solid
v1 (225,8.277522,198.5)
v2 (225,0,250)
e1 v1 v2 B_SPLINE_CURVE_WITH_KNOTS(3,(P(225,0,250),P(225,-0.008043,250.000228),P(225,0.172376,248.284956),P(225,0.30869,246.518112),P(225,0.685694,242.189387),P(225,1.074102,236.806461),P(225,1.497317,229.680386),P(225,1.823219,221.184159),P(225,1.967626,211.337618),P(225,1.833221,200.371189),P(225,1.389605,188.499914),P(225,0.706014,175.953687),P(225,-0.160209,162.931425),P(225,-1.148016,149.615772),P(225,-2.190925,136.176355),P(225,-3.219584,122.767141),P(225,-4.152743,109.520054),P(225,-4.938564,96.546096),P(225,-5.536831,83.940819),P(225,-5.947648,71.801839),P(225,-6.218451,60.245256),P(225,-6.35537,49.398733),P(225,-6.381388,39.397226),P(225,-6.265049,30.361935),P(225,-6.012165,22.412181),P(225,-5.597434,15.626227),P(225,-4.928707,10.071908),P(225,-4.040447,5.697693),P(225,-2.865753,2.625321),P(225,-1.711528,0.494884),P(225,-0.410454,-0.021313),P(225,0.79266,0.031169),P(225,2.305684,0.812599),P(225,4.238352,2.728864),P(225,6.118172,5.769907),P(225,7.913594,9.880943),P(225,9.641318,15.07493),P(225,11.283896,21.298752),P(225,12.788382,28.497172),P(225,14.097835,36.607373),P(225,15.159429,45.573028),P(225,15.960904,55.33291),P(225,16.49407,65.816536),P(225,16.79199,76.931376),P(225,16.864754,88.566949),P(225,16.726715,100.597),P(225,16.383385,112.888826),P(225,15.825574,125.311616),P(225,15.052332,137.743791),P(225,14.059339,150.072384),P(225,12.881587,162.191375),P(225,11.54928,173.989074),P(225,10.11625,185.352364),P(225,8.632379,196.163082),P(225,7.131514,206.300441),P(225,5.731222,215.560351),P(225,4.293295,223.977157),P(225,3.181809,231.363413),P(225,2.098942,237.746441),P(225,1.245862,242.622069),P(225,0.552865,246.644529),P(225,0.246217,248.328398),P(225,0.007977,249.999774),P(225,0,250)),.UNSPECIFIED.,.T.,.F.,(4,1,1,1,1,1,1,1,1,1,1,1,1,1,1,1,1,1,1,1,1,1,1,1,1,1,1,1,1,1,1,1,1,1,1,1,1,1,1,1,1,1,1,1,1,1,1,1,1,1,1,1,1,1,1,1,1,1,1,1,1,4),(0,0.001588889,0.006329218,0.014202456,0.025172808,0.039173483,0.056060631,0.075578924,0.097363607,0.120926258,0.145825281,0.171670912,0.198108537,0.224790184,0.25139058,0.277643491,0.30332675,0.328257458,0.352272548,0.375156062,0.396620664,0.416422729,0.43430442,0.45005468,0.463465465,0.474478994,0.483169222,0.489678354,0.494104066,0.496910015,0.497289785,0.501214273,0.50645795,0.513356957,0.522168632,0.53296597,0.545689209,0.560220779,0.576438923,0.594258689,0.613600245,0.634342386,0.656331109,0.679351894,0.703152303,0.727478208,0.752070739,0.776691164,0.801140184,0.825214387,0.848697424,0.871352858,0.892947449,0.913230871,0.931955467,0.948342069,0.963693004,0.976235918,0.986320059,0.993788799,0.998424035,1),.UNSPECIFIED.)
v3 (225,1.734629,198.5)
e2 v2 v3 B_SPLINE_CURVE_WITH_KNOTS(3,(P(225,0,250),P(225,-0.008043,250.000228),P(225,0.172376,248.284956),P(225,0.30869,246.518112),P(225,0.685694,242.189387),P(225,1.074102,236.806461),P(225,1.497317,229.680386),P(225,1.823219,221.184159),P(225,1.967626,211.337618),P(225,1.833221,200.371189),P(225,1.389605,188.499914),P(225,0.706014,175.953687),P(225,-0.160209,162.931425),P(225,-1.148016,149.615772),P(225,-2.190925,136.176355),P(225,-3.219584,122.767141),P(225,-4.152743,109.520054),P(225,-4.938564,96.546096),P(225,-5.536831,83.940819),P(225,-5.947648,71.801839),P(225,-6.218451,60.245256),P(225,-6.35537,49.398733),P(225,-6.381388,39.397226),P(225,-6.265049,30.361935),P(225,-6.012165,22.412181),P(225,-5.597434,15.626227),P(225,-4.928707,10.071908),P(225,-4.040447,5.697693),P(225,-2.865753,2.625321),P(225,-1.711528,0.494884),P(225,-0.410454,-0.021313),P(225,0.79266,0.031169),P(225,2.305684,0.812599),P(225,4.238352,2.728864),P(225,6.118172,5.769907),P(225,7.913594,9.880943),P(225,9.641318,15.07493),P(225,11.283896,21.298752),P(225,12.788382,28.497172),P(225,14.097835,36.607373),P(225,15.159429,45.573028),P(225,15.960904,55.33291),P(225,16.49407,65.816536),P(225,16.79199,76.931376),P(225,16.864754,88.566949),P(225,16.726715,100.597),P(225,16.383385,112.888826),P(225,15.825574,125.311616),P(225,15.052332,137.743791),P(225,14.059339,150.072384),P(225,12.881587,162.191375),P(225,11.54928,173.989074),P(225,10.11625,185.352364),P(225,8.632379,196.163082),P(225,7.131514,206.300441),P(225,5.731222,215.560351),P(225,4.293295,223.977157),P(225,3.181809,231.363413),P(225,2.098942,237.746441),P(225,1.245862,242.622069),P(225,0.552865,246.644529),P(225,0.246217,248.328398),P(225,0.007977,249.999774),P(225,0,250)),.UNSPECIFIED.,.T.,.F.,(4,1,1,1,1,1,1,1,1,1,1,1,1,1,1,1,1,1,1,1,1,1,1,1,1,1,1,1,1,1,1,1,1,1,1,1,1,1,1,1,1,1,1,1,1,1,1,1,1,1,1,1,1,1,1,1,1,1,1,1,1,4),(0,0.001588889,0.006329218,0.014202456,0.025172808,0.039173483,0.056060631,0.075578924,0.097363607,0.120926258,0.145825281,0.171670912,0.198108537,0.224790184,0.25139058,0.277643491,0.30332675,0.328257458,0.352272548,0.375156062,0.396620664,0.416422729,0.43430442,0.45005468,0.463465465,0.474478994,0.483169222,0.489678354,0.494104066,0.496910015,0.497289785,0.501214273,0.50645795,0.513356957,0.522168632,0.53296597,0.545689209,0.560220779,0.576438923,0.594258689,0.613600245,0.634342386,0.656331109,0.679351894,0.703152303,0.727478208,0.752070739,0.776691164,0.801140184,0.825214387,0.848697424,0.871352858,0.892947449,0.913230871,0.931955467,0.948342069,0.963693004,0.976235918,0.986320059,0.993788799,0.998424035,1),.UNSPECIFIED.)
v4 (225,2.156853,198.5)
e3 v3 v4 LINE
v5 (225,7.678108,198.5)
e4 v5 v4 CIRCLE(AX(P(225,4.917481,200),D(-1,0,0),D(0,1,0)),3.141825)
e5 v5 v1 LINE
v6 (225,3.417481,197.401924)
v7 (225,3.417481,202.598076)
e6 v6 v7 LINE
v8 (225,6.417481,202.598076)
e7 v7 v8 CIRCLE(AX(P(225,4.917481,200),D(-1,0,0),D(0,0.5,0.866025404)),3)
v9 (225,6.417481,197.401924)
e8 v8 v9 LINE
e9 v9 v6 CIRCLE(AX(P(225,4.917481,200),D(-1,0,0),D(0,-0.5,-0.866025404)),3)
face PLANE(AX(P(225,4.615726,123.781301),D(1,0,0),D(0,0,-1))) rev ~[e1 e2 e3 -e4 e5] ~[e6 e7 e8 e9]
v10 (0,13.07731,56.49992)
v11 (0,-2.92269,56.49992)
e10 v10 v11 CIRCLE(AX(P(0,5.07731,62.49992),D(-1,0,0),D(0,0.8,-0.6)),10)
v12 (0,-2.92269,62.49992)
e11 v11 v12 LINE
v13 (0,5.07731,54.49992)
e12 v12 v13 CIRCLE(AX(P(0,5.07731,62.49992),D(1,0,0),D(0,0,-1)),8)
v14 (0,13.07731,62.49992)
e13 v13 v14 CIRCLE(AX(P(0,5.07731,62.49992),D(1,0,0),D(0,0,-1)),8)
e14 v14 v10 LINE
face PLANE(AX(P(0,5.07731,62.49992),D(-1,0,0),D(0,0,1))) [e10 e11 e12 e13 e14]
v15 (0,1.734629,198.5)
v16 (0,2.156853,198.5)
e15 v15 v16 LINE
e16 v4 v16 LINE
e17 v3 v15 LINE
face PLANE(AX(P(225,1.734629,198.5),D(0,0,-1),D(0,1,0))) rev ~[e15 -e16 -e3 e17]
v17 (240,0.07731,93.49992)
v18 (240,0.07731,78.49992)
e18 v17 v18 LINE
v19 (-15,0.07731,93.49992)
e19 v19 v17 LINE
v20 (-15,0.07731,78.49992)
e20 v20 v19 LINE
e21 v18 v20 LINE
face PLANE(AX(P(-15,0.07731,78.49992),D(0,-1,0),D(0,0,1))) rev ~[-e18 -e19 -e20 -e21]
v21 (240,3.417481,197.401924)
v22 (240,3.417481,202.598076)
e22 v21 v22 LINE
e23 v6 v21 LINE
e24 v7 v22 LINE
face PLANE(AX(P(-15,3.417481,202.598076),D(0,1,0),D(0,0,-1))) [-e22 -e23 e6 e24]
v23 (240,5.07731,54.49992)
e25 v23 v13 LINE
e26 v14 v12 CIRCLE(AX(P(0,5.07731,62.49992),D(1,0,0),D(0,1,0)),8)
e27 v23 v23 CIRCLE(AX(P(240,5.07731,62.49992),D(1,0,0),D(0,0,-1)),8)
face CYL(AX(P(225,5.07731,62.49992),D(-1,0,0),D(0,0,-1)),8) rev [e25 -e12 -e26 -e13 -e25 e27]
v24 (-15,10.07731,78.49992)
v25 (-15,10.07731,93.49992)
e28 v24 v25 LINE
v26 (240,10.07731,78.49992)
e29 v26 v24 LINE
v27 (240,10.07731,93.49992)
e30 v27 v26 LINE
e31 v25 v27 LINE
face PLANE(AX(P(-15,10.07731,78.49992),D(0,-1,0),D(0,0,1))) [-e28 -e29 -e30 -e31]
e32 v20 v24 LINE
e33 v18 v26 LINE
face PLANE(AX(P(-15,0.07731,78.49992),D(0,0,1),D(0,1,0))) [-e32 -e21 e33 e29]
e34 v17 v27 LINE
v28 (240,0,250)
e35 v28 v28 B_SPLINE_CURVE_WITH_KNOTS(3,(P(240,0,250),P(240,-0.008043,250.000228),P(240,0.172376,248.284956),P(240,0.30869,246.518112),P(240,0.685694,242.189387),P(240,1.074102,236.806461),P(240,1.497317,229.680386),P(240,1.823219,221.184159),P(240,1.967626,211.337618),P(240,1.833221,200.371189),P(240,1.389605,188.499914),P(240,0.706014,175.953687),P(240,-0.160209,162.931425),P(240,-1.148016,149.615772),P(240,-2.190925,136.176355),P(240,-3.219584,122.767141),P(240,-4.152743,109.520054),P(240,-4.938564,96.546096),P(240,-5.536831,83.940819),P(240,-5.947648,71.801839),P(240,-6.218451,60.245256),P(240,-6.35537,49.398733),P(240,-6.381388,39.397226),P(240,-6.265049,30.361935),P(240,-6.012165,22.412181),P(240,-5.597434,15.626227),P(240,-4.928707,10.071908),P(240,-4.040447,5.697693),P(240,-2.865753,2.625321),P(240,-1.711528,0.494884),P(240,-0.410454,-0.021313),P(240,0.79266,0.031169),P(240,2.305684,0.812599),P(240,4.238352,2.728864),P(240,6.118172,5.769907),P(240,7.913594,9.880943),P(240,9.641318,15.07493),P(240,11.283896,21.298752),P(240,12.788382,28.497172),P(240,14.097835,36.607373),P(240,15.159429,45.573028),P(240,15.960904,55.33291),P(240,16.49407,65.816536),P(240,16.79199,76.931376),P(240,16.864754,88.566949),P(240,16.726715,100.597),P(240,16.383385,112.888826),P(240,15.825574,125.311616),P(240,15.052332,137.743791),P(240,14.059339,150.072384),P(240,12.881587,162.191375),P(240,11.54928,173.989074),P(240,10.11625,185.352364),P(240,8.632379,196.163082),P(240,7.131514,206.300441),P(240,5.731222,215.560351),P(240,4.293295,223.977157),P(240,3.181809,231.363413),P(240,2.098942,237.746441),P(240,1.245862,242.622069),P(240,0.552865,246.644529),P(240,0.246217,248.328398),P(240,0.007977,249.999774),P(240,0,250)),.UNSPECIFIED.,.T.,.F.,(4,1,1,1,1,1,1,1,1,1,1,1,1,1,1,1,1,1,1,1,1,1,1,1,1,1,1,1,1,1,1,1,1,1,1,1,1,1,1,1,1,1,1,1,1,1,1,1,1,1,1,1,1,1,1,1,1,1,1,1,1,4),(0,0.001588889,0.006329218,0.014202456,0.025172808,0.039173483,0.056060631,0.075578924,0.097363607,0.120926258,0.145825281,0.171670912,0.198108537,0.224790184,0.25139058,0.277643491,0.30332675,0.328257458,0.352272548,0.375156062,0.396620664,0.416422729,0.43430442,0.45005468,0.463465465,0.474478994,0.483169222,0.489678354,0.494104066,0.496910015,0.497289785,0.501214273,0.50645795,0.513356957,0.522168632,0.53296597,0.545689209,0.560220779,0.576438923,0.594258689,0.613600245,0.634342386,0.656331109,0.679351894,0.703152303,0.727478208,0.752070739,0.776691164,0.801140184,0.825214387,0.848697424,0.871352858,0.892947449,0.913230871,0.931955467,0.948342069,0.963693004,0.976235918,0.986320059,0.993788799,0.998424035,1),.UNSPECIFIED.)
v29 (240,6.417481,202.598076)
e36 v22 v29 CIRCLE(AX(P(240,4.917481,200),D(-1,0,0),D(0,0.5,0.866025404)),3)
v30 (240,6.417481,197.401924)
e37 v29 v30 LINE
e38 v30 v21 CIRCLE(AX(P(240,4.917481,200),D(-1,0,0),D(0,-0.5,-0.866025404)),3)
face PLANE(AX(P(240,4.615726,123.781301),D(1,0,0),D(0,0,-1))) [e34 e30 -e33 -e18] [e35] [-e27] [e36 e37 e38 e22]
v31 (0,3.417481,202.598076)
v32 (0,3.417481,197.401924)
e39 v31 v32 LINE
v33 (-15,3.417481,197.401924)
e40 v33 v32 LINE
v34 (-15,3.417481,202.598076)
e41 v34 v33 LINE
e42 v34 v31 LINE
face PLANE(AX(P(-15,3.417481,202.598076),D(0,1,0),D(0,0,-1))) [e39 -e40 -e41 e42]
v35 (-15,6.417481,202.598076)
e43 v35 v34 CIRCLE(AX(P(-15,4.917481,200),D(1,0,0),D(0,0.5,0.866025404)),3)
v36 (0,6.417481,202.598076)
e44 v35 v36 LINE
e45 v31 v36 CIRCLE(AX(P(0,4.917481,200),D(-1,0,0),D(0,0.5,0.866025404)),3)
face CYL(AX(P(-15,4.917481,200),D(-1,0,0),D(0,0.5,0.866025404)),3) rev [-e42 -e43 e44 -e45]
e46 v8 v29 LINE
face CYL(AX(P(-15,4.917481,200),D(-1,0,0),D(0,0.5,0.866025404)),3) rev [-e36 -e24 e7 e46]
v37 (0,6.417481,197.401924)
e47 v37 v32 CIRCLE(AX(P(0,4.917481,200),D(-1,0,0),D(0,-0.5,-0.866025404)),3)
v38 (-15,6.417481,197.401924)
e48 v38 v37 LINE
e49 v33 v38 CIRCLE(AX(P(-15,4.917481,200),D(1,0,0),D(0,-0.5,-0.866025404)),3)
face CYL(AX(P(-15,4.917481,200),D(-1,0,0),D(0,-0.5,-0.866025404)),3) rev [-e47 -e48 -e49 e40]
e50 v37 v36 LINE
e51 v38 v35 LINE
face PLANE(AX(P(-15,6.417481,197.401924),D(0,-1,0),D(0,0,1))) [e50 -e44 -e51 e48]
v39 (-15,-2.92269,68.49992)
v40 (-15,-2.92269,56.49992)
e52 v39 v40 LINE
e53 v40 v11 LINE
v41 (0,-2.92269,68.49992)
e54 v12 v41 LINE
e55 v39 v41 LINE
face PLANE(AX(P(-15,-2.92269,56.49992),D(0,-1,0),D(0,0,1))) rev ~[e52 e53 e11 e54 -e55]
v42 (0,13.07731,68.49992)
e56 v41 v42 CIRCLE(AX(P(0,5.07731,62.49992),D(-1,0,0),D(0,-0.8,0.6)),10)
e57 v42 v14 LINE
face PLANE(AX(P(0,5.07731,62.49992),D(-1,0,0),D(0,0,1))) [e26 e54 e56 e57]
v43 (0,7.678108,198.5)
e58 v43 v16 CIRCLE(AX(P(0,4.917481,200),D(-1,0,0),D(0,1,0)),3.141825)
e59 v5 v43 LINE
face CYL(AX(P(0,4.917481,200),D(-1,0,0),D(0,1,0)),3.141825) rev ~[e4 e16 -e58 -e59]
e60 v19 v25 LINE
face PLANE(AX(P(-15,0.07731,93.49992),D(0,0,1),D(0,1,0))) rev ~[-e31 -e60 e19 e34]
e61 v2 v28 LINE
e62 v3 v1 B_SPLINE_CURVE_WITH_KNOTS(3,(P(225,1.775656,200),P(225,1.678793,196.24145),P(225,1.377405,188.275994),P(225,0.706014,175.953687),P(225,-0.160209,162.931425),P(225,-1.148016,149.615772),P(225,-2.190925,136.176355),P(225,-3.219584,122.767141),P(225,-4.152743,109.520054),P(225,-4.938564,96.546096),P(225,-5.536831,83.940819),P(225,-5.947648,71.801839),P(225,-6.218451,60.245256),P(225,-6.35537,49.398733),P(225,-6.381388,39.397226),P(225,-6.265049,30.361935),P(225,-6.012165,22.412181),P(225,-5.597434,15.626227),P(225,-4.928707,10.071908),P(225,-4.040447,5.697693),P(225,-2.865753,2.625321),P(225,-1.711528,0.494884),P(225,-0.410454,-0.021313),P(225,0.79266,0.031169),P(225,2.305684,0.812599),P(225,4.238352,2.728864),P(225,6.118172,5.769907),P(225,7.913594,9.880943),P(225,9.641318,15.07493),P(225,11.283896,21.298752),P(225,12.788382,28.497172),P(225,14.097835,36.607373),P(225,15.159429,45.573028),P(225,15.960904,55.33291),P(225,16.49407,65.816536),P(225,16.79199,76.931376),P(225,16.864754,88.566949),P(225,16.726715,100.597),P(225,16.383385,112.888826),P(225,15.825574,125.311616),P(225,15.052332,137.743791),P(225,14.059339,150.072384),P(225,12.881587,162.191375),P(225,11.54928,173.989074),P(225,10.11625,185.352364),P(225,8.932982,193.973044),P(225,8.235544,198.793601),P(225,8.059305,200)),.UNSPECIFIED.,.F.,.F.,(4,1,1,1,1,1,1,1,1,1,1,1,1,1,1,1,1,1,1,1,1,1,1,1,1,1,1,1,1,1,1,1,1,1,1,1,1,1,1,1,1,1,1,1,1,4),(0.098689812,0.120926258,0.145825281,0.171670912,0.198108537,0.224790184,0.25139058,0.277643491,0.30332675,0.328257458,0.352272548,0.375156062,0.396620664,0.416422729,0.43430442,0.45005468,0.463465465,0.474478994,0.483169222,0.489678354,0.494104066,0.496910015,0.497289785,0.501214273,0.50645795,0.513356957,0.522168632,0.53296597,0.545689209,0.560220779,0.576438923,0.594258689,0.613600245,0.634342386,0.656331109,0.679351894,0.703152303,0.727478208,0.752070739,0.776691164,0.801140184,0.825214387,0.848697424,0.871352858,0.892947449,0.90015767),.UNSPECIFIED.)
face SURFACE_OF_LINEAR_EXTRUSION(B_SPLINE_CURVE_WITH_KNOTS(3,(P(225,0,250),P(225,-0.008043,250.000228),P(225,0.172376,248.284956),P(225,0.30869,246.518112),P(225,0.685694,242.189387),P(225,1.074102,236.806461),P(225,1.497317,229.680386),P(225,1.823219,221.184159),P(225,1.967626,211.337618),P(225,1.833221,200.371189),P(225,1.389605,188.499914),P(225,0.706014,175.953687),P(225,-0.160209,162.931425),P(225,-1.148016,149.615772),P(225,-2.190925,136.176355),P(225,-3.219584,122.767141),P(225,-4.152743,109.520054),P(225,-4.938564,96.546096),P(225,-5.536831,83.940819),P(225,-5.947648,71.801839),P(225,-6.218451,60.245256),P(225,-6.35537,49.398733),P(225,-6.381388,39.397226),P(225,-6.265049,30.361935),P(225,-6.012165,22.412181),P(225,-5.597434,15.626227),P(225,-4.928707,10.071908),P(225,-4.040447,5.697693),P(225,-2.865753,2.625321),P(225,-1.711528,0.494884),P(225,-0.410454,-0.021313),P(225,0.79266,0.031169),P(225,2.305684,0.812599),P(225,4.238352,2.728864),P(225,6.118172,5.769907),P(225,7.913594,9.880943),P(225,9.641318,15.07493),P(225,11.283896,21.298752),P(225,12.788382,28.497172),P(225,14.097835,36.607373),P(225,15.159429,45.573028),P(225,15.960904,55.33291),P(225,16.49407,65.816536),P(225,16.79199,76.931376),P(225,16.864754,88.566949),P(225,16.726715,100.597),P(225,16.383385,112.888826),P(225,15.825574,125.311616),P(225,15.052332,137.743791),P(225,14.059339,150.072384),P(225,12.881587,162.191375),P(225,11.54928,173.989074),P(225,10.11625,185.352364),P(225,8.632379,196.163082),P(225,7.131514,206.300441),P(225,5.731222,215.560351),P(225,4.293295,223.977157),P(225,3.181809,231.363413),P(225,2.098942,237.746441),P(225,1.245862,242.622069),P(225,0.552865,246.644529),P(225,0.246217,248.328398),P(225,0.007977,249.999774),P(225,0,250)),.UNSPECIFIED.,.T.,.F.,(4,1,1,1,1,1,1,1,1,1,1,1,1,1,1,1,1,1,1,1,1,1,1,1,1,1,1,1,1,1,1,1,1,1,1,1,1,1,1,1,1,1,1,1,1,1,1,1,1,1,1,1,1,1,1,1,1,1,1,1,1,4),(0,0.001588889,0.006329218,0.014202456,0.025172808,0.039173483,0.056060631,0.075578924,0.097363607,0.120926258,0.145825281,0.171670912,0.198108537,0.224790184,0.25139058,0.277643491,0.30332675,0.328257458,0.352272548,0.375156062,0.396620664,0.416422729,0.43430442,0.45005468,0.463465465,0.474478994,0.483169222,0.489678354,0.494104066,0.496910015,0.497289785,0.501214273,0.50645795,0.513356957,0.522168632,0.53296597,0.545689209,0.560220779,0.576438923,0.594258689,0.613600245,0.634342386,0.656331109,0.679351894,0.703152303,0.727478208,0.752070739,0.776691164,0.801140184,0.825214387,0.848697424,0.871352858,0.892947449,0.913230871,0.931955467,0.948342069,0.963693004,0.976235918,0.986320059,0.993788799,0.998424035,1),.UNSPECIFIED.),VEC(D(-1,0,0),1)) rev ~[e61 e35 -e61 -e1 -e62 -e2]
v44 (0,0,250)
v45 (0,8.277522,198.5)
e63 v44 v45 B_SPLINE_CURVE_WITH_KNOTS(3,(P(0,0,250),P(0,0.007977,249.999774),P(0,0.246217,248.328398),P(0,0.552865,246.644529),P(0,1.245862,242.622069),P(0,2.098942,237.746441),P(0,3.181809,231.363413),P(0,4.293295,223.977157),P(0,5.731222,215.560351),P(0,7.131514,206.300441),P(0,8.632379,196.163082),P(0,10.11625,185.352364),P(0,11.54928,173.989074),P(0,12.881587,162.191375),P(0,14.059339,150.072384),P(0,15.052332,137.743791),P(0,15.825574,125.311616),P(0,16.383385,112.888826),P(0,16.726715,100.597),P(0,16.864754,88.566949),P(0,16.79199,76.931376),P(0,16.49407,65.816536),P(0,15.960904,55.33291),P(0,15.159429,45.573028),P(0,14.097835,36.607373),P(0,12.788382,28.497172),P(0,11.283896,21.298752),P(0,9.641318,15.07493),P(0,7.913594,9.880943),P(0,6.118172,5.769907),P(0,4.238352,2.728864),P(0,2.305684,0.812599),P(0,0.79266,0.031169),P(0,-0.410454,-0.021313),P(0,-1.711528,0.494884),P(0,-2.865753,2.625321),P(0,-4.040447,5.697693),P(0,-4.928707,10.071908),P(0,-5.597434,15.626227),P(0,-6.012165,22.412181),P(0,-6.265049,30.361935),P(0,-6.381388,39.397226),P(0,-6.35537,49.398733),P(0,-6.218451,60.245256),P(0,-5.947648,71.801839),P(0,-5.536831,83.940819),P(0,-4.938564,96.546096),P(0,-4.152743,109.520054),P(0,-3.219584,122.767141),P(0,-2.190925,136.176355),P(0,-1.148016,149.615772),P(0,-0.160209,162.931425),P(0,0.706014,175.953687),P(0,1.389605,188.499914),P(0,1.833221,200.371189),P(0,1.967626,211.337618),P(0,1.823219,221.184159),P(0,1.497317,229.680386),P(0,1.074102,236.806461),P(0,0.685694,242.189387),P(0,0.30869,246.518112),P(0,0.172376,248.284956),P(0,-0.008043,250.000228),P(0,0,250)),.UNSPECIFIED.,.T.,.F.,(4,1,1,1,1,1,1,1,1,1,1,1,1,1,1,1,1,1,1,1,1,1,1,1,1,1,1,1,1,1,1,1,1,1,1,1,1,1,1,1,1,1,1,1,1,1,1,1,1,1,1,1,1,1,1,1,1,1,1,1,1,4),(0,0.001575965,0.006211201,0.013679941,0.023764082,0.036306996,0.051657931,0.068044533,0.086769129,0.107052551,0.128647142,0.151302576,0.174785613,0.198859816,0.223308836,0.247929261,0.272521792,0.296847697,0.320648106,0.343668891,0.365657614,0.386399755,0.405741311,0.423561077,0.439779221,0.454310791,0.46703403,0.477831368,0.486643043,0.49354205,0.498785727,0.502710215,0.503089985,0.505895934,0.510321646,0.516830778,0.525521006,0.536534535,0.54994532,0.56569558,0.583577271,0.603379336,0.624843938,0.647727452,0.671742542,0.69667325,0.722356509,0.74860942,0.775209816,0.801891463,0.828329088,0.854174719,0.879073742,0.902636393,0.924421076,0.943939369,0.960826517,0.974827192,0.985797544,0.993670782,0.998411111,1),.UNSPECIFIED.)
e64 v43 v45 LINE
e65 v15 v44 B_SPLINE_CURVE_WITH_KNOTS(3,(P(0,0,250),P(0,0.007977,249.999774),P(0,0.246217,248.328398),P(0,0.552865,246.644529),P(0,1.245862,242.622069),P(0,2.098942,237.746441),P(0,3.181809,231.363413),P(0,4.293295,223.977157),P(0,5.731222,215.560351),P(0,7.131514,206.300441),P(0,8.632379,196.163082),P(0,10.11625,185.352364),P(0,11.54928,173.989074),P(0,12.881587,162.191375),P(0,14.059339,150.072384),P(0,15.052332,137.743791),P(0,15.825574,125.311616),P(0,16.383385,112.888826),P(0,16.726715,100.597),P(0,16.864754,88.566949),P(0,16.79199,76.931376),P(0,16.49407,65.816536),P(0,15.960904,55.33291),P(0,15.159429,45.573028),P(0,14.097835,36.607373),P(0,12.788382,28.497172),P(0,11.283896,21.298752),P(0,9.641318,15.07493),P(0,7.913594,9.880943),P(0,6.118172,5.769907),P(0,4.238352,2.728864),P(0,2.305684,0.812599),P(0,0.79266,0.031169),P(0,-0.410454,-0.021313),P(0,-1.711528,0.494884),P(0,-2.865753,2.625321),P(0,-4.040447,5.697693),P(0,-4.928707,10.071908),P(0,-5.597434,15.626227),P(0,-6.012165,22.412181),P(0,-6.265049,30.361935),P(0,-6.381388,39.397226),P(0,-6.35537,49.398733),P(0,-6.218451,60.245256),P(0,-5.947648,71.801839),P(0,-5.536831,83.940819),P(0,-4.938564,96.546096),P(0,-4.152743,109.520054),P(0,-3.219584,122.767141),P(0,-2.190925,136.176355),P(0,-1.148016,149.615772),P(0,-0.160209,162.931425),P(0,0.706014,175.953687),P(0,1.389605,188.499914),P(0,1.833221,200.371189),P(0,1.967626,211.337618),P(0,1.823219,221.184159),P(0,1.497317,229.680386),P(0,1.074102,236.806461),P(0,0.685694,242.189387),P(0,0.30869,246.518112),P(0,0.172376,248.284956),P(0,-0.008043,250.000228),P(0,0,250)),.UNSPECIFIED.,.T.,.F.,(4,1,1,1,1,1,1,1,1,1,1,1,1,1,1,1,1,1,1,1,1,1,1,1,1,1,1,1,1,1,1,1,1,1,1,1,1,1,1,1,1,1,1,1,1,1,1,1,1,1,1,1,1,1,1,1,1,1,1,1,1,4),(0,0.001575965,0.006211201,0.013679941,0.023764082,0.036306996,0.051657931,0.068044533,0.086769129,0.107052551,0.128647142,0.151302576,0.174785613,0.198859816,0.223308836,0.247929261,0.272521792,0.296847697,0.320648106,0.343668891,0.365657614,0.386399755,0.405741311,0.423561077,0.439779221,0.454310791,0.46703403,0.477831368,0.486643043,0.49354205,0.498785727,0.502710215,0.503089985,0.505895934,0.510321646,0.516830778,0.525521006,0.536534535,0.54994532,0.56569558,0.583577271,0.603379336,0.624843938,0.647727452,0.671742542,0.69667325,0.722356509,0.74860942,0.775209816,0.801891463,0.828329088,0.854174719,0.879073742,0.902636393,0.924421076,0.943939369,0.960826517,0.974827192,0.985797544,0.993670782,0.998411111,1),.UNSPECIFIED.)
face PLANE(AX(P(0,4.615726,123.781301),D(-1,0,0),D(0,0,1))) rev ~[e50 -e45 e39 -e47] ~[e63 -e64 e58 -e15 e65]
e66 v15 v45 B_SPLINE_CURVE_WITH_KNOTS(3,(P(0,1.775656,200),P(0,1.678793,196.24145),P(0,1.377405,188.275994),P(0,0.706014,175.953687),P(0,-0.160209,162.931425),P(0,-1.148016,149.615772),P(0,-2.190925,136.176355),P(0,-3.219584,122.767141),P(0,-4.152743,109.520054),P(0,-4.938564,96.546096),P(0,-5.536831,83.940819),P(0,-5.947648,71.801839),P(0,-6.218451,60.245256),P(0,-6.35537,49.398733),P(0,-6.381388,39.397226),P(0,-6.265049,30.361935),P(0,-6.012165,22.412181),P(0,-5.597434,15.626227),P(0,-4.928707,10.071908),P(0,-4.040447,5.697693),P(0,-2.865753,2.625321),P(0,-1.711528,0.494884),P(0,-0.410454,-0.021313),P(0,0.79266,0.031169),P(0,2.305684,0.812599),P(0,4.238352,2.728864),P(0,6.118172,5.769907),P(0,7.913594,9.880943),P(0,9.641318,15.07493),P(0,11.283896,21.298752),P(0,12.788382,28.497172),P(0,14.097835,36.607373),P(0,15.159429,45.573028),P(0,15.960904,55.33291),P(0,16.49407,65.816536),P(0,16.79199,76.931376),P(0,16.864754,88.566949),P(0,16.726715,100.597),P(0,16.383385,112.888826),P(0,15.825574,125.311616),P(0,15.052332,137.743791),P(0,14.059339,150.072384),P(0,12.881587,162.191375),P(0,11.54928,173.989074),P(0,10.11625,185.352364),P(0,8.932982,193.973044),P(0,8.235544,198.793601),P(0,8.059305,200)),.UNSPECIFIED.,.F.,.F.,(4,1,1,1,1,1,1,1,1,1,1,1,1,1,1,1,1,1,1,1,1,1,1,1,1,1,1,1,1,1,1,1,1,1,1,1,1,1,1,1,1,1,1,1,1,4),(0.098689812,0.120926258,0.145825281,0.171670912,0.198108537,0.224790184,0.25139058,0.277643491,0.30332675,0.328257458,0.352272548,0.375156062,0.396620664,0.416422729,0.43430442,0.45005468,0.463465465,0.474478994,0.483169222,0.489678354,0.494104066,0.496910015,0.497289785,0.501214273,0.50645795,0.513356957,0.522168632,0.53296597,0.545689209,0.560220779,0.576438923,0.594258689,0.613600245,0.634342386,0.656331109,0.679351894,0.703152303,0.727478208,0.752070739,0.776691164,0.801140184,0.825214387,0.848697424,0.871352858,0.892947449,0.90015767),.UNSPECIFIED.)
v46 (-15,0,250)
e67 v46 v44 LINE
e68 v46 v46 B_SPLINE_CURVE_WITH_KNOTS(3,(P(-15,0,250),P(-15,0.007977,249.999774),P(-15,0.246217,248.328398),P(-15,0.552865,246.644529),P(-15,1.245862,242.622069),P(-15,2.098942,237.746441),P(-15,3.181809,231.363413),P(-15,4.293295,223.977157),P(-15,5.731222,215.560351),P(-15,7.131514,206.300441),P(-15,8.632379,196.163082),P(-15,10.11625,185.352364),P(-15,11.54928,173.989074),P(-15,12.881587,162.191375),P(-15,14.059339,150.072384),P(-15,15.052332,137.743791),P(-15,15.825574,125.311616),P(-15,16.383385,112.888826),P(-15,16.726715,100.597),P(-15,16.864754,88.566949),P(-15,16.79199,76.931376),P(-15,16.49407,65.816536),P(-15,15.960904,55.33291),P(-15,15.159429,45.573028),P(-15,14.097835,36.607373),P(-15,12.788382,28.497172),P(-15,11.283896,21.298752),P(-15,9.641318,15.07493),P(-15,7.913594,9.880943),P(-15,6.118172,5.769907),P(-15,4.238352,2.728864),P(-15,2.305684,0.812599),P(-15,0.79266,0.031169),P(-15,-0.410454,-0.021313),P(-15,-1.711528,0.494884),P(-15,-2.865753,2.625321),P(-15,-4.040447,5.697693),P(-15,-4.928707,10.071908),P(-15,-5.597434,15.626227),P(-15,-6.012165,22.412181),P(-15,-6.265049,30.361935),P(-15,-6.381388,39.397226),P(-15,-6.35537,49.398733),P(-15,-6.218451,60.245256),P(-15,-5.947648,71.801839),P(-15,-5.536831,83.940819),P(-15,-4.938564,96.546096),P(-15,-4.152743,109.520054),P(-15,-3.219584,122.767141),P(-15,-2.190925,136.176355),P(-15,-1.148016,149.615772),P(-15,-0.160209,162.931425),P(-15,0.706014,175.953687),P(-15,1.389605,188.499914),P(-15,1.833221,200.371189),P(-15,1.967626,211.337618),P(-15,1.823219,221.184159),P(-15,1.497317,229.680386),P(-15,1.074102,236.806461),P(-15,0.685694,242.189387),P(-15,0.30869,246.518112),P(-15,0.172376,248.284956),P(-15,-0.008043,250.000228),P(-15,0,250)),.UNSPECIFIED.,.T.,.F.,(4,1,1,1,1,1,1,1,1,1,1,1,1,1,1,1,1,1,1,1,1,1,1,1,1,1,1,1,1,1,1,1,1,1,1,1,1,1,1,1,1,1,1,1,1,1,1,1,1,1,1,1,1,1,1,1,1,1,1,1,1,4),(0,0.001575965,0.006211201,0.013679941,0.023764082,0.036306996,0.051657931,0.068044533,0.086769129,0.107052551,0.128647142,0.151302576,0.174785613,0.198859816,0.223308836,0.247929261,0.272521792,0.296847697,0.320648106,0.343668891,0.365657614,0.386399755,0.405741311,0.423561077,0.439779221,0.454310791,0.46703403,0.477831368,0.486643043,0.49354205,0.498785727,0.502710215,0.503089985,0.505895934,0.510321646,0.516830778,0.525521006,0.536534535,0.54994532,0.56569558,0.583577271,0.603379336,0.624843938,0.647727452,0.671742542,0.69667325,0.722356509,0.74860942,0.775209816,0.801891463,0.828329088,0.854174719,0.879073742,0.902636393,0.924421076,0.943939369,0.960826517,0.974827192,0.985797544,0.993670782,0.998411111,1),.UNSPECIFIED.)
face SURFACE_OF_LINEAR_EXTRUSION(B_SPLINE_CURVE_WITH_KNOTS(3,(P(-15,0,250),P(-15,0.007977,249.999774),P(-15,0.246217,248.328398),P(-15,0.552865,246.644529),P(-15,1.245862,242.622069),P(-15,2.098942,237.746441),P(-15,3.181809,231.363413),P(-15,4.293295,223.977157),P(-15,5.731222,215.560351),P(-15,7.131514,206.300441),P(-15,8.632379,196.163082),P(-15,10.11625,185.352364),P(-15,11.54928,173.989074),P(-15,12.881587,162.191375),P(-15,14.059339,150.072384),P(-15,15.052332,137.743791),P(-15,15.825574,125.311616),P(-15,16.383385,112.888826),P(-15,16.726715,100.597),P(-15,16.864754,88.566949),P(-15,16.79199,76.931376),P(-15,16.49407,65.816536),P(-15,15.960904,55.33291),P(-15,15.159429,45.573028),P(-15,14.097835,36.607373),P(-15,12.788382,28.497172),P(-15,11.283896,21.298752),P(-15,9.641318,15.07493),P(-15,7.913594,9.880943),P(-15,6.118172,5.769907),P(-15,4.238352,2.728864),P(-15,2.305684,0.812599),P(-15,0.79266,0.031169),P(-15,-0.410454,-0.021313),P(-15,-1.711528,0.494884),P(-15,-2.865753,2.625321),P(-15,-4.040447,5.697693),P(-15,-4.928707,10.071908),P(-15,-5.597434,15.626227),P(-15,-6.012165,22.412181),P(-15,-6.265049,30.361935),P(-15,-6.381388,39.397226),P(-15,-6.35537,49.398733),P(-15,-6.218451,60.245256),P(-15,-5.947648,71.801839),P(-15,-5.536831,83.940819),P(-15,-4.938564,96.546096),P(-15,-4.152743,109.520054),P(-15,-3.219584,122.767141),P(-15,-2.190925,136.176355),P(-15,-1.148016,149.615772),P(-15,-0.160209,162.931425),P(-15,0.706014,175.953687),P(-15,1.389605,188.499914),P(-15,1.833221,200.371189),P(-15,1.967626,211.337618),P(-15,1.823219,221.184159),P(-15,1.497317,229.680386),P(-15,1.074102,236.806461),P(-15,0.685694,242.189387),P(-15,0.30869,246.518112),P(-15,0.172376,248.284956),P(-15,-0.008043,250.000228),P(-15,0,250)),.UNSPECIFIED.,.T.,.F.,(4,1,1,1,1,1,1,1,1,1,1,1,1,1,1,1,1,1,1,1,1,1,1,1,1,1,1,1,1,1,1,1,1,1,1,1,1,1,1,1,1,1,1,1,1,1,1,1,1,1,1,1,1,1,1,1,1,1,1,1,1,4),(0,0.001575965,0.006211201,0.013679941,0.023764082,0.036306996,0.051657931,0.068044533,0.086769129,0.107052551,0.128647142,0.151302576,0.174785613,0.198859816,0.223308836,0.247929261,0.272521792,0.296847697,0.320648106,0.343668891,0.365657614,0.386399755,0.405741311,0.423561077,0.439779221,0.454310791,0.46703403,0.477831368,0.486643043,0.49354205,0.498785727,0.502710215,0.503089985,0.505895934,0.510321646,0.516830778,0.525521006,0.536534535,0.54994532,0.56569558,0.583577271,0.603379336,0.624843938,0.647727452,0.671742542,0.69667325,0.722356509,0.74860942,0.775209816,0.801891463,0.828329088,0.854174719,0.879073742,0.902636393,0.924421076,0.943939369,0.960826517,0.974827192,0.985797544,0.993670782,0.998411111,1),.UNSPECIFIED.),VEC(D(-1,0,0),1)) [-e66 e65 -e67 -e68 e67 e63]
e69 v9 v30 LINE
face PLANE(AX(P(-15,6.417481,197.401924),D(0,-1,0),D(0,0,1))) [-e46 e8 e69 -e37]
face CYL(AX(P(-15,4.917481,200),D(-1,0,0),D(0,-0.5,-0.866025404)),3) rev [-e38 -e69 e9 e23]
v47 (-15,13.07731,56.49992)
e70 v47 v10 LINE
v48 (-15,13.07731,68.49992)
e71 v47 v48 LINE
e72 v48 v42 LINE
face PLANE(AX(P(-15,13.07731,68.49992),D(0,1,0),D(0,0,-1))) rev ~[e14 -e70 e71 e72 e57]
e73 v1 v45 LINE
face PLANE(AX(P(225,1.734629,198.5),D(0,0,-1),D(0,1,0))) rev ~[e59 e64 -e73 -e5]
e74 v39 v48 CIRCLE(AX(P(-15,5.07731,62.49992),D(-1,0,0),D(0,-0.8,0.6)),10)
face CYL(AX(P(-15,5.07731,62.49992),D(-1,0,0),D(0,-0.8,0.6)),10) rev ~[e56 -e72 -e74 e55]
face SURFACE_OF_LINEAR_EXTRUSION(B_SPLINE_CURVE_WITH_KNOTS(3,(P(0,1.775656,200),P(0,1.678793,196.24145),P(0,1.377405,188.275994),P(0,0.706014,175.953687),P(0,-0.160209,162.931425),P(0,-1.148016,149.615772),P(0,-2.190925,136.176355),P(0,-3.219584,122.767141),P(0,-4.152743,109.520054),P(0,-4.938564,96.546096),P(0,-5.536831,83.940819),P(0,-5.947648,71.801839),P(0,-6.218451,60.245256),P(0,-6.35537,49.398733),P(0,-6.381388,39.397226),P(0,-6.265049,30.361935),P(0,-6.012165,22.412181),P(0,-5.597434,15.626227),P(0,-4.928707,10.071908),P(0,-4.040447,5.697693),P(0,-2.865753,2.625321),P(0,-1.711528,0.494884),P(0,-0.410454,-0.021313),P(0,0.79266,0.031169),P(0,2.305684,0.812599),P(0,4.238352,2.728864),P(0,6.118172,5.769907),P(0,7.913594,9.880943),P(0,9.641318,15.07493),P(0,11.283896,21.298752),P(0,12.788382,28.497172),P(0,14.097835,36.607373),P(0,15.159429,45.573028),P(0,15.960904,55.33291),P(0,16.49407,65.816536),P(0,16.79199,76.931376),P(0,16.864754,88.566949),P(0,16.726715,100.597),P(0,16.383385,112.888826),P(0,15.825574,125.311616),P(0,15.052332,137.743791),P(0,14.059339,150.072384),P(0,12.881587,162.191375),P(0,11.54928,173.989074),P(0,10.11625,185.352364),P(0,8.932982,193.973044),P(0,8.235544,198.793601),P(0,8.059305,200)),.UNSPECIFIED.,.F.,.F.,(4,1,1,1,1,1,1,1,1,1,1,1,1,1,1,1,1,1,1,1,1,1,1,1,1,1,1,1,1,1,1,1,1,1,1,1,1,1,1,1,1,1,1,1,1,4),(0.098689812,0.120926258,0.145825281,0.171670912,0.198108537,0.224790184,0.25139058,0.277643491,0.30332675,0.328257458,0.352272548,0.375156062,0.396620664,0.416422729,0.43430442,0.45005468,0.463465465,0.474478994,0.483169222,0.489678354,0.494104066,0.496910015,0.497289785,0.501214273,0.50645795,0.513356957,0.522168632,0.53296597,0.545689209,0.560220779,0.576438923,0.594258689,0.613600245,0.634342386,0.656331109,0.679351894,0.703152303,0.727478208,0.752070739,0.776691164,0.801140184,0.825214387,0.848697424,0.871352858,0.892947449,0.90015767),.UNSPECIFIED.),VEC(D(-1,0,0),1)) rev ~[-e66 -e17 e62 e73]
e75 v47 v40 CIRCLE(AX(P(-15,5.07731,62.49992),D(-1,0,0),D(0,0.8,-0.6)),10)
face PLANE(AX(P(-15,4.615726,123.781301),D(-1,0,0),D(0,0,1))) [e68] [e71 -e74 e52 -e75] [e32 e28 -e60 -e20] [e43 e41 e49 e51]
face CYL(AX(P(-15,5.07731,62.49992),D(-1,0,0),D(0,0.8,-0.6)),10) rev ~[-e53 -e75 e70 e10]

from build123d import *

# Parameters (mm, degrees)
SCHIZZO1_R               = 8
SCHIZZO1_W               = 15
SCHIZZO1_H               = 10
CORPOFOAM_DEPTH          = 225
SCHIZZO2_W               = 5
SCHIZZO2_H               = 6.542892791
SMUSSOPOSTERIORE_DEPTH   = 302.510060719
SCHIZZO3_R               = 8
SCHIZZO3_W               = 15
SCHIZZO3_H               = 10
LATODESTRO_DEPTH         = 15
LATOSINISTRO_START       = 15
SCHIZZO4_R               = 8
SCHIZZO4_W               = 15
SCHIZZO4_H               = 10
LATOSINISTRO_DEPTH       = 15
FOROPERNOALETTONE_DEPTH  = 358.502890584
FOROFOAMLONGHERONE_START = -255
FOROFOAMLONGHERONE_DEPTH = 15


with BuildPart() as part:
    # Schizzo1 → CorpoFoam (new body)
    with BuildSketch(Plane(origin=(0, 0, 0), x_dir=(0, 0, -1), z_dir=(1, 0, 0))):
        with BuildLine():
            ThreePointArc((-200, 8.059305289), (-196.8581753, 4.91748059), (-200, 1.77565589))
            add(Edge.make_bspline(
                [(-200, 1.77565589), (-196.241450344, 1.678792644), (-188.275993902, 1.377404844), (-175.953687417, 0.706014078), (-162.931424918, -0.160208642), (-149.615771744, -1.148016327), (-136.176354995, -2.19092491), (-122.767140548, -3.219583979), (-109.520053587, -4.152743127), (-96.546095975, -4.938564365), (-83.940819302, -5.536830703), (-71.801839291, -5.947648205), (-60.245256003, -6.218450939), (-49.398732891, -6.355369756), (-39.397226194, -6.381387963), (-30.361934842, -6.26504923), (-22.412181103, -6.012164917), (-15.626227231, -5.597433901), (-10.071907511, -4.928706579), (-5.697692612, -4.040446981), (-2.625320639, -2.865752984), (-0.494884225, -1.71152847), (0.021312549, -0.410454231), (-0.0311692, 0.792659827), (-0.812599242, 2.305684337), (-2.728863517, 4.238352424), (-5.769907241, 6.118172121), (-9.880942804, 7.913594202), (-15.074930468, 9.641318178), (-21.298752222, 11.283896488), (-28.49717212, 12.788381759), (-36.607373406, 14.097834908), (-45.57302844, 15.159429017), (-55.332910074, 15.960903998), (-65.816536498, 16.494069738), (-76.93137626, 16.791989705), (-88.566949028, 16.864754131), (-100.596999886, 16.726715291), (-112.888825982, 16.383385064), (-125.311615819, 15.825573667), (-137.743791097, 15.05233187), (-150.072384382, 14.059339074), (-162.191375056, 12.881586986), (-173.989074322, 11.549280346), (-185.352364446, 10.116249729), (-193.973044007, 8.932981988), (-198.793601378, 8.235543811), (-200, 8.059305289)],
                knots=[0.098689812, 0.098689812, 0.098689812, 0.098689812, 0.120926258, 0.145825281, 0.171670912, 0.198108537, 0.224790184, 0.25139058, 0.277643491, 0.30332675, 0.328257458, 0.352272548, 0.375156062, 0.396620664, 0.416422729, 0.43430442, 0.45005468, 0.463465465, 0.474478994, 0.483169222, 0.489678354, 0.494104066, 0.496910015, 0.497289785, 0.501214273, 0.50645795, 0.513356957, 0.522168632, 0.53296597, 0.545689209, 0.560220779, 0.576438923, 0.594258689, 0.613600245, 0.634342386, 0.656331109, 0.679351894, 0.703152303, 0.727478208, 0.752070739, 0.776691164, 0.801140184, 0.825214387, 0.848697424, 0.871352858, 0.892947449, 0.90015767, 0.90015767, 0.90015767, 0.90015767], degree=3))
        make_face()
        with Locations((-62.499919709, 5.077309939)):
            Circle(SCHIZZO1_R, mode=Mode.SUBTRACT)
        with Locations((-85.999919709, 5.077309939)):
            Rectangle(SCHIZZO1_W, SCHIZZO1_H, mode=Mode.SUBTRACT)
    extrude(amount=CORPOFOAM_DEPTH)

    # Schizzo2 → SmussoPosteriore (cut, through all)
    with BuildSketch(Plane(origin=(225, 0, 0), x_dir=(0, 0, -1), z_dir=(1, 0, 0))):
        with Locations((-201, 5.006075261)):
            Rectangle(SCHIZZO2_W, SCHIZZO2_H)
    extrude(amount=-SMUSSOPOSTERIORE_DEPTH, mode=Mode.SUBTRACT)

    # Schizzo3 → LatoDestro (add)
    with BuildSketch(Plane(origin=(225, 0, 0), x_dir=(0, 0, -1), z_dir=(1, 0, 0))):
        with BuildLine():
            add(Edge.make_bspline(
                [(-250, 0), (-250.000228294, -0.008042796), (-248.284955516, 0.172375658), (-246.518112419, 0.308690015), (-242.189387343, 0.685693594), (-236.806461263, 1.074101529), (-229.680385952, 1.49731724), (-221.184158698, 1.823218603), (-211.337618208, 1.967626101), (-200.371188527, 1.833221056), (-188.499913622, 1.38960529), (-175.953687417, 0.706014078), (-162.931424918, -0.160208642), (-149.615771744, -1.148016327), (-136.176354995, -2.19092491), (-122.767140548, -3.219583979), (-109.520053587, -4.152743127), (-96.546095975, -4.938564365), (-83.940819302, -5.536830703), (-71.801839291, -5.947648205), (-60.245256003, -6.218450939), (-49.398732891, -6.355369756), (-39.397226194, -6.381387963), (-30.361934842, -6.26504923), (-22.412181103, -6.012164917), (-15.626227231, -5.597433901), (-10.071907511, -4.928706579), (-5.697692612, -4.040446981), (-2.625320639, -2.865752984), (-0.494884225, -1.71152847), (0.021312549, -0.410454231), (-0.0311692, 0.792659827), (-0.812599242, 2.305684337), (-2.728863517, 4.238352424), (-5.769907241, 6.118172121), (-9.880942804, 7.913594202), (-15.074930468, 9.641318178), (-21.298752222, 11.283896488), (-28.49717212, 12.788381759), (-36.607373406, 14.097834908), (-45.57302844, 15.159429017), (-55.332910074, 15.960903998), (-65.816536498, 16.494069738), (-76.93137626, 16.791989705), (-88.566949028, 16.864754131), (-100.596999886, 16.726715291), (-112.888825982, 16.383385064), (-125.311615819, 15.825573667), (-137.743791097, 15.05233187), (-150.072384382, 14.059339074), (-162.191375056, 12.881586986), (-173.989074322, 11.549280346), (-185.352364446, 10.116249729), (-196.163081698, 8.632379125), (-206.300441402, 7.131513884), (-215.560350587, 5.731221768), (-223.977157043, 4.293295127), (-231.363413336, 3.181808874), (-237.746440904, 2.098942417), (-242.622069366, 1.245861917), (-246.644529332, 0.552864946), (-248.32839844, 0.246216765), (-249.999773563, 0.007977377), (-250, 0)],
                knots=[0, 0, 0, 0, 0.001588889, 0.006329218, 0.014202456, 0.025172808, 0.039173483, 0.056060631, 0.075578924, 0.097363607, 0.120926258, 0.145825281, 0.171670912, 0.198108537, 0.224790184, 0.25139058, 0.277643491, 0.30332675, 0.328257458, 0.352272548, 0.375156062, 0.396620664, 0.416422729, 0.43430442, 0.45005468, 0.463465465, 0.474478994, 0.483169222, 0.489678354, 0.494104066, 0.496910015, 0.497289785, 0.501214273, 0.50645795, 0.513356957, 0.522168632, 0.53296597, 0.545689209, 0.560220779, 0.576438923, 0.594258689, 0.613600245, 0.634342386, 0.656331109, 0.679351894, 0.703152303, 0.727478208, 0.752070739, 0.776691164, 0.801140184, 0.825214387, 0.848697424, 0.871352858, 0.892947449, 0.913230871, 0.931955467, 0.948342069, 0.963693004, 0.976235918, 0.986320059, 0.993788799, 0.998424035, 1, 1, 1, 1], degree=3))
        make_face()
        with Locations((-62.499919709, 5.077309939)):
            Circle(SCHIZZO3_R, mode=Mode.SUBTRACT)
        with Locations((-85.999919709, 5.077309939)):
            Rectangle(SCHIZZO3_W, SCHIZZO3_H, mode=Mode.SUBTRACT)
    extrude(amount=LATODESTRO_DEPTH)

    # Schizzo4 → LatoSinistro (add)
    with BuildSketch(Plane.ZY.offset(LATOSINISTRO_START)):
        with BuildLine():
            add(Edge.make_bspline(
                [(250, 0), (249.999773563, 0.007977377), (248.32839844, 0.246216765), (246.644529332, 0.552864946), (242.622069366, 1.245861917), (237.746440904, 2.098942417), (231.363413336, 3.181808874), (223.977157043, 4.293295127), (215.560350587, 5.731221768), (206.300441402, 7.131513884), (196.163081698, 8.632379125), (185.352364446, 10.116249729), (173.989074322, 11.549280346), (162.191375056, 12.881586986), (150.072384382, 14.059339074), (137.743791097, 15.05233187), (125.311615819, 15.825573667), (112.888825982, 16.383385064), (100.596999886, 16.726715291), (88.566949028, 16.864754131), (76.93137626, 16.791989705), (65.816536498, 16.494069738), (55.332910074, 15.960903998), (45.57302844, 15.159429017), (36.607373406, 14.097834908), (28.49717212, 12.788381759), (21.298752222, 11.283896488), (15.074930468, 9.641318178), (9.880942804, 7.913594202), (5.769907241, 6.118172121), (2.728863517, 4.238352424), (0.812599242, 2.305684337), (0.0311692, 0.792659827), (-0.021312549, -0.410454231), (0.494884225, -1.71152847), (2.625320639, -2.865752984), (5.697692612, -4.040446981), (10.071907511, -4.928706579), (15.626227231, -5.597433901), (22.412181103, -6.012164917), (30.361934842, -6.26504923), (39.397226194, -6.381387963), (49.398732891, -6.355369756), (60.245256003, -6.218450939), (71.801839291, -5.947648205), (83.940819302, -5.536830703), (96.546095975, -4.938564365), (109.520053587, -4.152743127), (122.767140548, -3.219583979), (136.176354995, -2.19092491), (149.615771744, -1.148016327), (162.931424918, -0.160208642), (175.953687417, 0.706014078), (188.499913622, 1.38960529), (200.371188527, 1.833221056), (211.337618208, 1.967626101), (221.184158698, 1.823218603), (229.680385952, 1.49731724), (236.806461263, 1.074101529), (242.189387343, 0.685693594), (246.518112419, 0.308690015), (248.284955516, 0.172375658), (250.000228294, -0.008042796), (250, 0)],
                knots=[0, 0, 0, 0, 0.001575965, 0.006211201, 0.013679941, 0.023764082, 0.036306996, 0.051657931, 0.068044533, 0.086769129, 0.107052551, 0.128647142, 0.151302576, 0.174785613, 0.198859816, 0.223308836, 0.247929261, 0.272521792, 0.296847697, 0.320648106, 0.343668891, 0.365657614, 0.386399755, 0.405741311, 0.423561077, 0.439779221, 0.454310791, 0.46703403, 0.477831368, 0.486643043, 0.49354205, 0.498785727, 0.502710215, 0.503089985, 0.505895934, 0.510321646, 0.516830778, 0.525521006, 0.536534535, 0.54994532, 0.56569558, 0.583577271, 0.603379336, 0.624843938, 0.647727452, 0.671742542, 0.69667325, 0.722356509, 0.74860942, 0.775209816, 0.801891463, 0.828329088, 0.854174719, 0.879073742, 0.902636393, 0.924421076, 0.943939369, 0.960826517, 0.974827192, 0.985797544, 0.993670782, 0.998411111, 1, 1, 1, 1], degree=3))
        make_face()
        with Locations((62.499919709, 5.077309939)):
            Circle(SCHIZZO4_R, mode=Mode.SUBTRACT)
        with Locations((85.999919709, 5.077309939)):
            Rectangle(SCHIZZO4_W, SCHIZZO4_H, mode=Mode.SUBTRACT)
    extrude(amount=-LATOSINISTRO_DEPTH)

    # Schizzo5 → ForoPernoAlettone (cut, through all)
    with BuildSketch(Plane.ZY.offset(15)):
        with BuildLine():
            Line((197.401923789, 6.41748059), (202.598076211, 6.41748059))
            ThreePointArc((202.598076211, 6.41748059), (203, 4.91748059), (202.598076211, 3.41748059))
            Line((202.598076211, 3.41748059), (197.401923789, 3.41748059))
            ThreePointArc((197.401923789, 3.41748059), (197, 4.91748059), (197.401923789, 6.41748059))
        make_face()
    extrude(amount=-FOROPERNOALETTONE_DEPTH, mode=Mode.SUBTRACT)

    # Schizzo6 → ForoFoamLongherone (cut)
    with BuildSketch(Plane(origin=(240, 0, 0), x_dir=(0, 0, -1), z_dir=(1, 0, 0)).offset(FOROFOAMLONGHERONE_START)):
        with BuildLine():
            Line((-68.499919709, 13.077309939), (-56.499919709, 13.077309939))
            ThreePointArc((-56.499919709, 13.077309939), (-52.499919709, 5.077309939), (-56.499919709, -2.922690061))
            Line((-56.499919709, -2.922690061), (-68.499919709, -2.922690061))
            ThreePointArc((-68.499919709, -2.922690061), (-72.499919709, 5.077309939), (-68.499919709, 13.077309939))
        make_face()
    extrude(amount=FOROFOAMLONGHERONE_DEPTH, mode=Mode.SUBTRACT)


solid = part.part
